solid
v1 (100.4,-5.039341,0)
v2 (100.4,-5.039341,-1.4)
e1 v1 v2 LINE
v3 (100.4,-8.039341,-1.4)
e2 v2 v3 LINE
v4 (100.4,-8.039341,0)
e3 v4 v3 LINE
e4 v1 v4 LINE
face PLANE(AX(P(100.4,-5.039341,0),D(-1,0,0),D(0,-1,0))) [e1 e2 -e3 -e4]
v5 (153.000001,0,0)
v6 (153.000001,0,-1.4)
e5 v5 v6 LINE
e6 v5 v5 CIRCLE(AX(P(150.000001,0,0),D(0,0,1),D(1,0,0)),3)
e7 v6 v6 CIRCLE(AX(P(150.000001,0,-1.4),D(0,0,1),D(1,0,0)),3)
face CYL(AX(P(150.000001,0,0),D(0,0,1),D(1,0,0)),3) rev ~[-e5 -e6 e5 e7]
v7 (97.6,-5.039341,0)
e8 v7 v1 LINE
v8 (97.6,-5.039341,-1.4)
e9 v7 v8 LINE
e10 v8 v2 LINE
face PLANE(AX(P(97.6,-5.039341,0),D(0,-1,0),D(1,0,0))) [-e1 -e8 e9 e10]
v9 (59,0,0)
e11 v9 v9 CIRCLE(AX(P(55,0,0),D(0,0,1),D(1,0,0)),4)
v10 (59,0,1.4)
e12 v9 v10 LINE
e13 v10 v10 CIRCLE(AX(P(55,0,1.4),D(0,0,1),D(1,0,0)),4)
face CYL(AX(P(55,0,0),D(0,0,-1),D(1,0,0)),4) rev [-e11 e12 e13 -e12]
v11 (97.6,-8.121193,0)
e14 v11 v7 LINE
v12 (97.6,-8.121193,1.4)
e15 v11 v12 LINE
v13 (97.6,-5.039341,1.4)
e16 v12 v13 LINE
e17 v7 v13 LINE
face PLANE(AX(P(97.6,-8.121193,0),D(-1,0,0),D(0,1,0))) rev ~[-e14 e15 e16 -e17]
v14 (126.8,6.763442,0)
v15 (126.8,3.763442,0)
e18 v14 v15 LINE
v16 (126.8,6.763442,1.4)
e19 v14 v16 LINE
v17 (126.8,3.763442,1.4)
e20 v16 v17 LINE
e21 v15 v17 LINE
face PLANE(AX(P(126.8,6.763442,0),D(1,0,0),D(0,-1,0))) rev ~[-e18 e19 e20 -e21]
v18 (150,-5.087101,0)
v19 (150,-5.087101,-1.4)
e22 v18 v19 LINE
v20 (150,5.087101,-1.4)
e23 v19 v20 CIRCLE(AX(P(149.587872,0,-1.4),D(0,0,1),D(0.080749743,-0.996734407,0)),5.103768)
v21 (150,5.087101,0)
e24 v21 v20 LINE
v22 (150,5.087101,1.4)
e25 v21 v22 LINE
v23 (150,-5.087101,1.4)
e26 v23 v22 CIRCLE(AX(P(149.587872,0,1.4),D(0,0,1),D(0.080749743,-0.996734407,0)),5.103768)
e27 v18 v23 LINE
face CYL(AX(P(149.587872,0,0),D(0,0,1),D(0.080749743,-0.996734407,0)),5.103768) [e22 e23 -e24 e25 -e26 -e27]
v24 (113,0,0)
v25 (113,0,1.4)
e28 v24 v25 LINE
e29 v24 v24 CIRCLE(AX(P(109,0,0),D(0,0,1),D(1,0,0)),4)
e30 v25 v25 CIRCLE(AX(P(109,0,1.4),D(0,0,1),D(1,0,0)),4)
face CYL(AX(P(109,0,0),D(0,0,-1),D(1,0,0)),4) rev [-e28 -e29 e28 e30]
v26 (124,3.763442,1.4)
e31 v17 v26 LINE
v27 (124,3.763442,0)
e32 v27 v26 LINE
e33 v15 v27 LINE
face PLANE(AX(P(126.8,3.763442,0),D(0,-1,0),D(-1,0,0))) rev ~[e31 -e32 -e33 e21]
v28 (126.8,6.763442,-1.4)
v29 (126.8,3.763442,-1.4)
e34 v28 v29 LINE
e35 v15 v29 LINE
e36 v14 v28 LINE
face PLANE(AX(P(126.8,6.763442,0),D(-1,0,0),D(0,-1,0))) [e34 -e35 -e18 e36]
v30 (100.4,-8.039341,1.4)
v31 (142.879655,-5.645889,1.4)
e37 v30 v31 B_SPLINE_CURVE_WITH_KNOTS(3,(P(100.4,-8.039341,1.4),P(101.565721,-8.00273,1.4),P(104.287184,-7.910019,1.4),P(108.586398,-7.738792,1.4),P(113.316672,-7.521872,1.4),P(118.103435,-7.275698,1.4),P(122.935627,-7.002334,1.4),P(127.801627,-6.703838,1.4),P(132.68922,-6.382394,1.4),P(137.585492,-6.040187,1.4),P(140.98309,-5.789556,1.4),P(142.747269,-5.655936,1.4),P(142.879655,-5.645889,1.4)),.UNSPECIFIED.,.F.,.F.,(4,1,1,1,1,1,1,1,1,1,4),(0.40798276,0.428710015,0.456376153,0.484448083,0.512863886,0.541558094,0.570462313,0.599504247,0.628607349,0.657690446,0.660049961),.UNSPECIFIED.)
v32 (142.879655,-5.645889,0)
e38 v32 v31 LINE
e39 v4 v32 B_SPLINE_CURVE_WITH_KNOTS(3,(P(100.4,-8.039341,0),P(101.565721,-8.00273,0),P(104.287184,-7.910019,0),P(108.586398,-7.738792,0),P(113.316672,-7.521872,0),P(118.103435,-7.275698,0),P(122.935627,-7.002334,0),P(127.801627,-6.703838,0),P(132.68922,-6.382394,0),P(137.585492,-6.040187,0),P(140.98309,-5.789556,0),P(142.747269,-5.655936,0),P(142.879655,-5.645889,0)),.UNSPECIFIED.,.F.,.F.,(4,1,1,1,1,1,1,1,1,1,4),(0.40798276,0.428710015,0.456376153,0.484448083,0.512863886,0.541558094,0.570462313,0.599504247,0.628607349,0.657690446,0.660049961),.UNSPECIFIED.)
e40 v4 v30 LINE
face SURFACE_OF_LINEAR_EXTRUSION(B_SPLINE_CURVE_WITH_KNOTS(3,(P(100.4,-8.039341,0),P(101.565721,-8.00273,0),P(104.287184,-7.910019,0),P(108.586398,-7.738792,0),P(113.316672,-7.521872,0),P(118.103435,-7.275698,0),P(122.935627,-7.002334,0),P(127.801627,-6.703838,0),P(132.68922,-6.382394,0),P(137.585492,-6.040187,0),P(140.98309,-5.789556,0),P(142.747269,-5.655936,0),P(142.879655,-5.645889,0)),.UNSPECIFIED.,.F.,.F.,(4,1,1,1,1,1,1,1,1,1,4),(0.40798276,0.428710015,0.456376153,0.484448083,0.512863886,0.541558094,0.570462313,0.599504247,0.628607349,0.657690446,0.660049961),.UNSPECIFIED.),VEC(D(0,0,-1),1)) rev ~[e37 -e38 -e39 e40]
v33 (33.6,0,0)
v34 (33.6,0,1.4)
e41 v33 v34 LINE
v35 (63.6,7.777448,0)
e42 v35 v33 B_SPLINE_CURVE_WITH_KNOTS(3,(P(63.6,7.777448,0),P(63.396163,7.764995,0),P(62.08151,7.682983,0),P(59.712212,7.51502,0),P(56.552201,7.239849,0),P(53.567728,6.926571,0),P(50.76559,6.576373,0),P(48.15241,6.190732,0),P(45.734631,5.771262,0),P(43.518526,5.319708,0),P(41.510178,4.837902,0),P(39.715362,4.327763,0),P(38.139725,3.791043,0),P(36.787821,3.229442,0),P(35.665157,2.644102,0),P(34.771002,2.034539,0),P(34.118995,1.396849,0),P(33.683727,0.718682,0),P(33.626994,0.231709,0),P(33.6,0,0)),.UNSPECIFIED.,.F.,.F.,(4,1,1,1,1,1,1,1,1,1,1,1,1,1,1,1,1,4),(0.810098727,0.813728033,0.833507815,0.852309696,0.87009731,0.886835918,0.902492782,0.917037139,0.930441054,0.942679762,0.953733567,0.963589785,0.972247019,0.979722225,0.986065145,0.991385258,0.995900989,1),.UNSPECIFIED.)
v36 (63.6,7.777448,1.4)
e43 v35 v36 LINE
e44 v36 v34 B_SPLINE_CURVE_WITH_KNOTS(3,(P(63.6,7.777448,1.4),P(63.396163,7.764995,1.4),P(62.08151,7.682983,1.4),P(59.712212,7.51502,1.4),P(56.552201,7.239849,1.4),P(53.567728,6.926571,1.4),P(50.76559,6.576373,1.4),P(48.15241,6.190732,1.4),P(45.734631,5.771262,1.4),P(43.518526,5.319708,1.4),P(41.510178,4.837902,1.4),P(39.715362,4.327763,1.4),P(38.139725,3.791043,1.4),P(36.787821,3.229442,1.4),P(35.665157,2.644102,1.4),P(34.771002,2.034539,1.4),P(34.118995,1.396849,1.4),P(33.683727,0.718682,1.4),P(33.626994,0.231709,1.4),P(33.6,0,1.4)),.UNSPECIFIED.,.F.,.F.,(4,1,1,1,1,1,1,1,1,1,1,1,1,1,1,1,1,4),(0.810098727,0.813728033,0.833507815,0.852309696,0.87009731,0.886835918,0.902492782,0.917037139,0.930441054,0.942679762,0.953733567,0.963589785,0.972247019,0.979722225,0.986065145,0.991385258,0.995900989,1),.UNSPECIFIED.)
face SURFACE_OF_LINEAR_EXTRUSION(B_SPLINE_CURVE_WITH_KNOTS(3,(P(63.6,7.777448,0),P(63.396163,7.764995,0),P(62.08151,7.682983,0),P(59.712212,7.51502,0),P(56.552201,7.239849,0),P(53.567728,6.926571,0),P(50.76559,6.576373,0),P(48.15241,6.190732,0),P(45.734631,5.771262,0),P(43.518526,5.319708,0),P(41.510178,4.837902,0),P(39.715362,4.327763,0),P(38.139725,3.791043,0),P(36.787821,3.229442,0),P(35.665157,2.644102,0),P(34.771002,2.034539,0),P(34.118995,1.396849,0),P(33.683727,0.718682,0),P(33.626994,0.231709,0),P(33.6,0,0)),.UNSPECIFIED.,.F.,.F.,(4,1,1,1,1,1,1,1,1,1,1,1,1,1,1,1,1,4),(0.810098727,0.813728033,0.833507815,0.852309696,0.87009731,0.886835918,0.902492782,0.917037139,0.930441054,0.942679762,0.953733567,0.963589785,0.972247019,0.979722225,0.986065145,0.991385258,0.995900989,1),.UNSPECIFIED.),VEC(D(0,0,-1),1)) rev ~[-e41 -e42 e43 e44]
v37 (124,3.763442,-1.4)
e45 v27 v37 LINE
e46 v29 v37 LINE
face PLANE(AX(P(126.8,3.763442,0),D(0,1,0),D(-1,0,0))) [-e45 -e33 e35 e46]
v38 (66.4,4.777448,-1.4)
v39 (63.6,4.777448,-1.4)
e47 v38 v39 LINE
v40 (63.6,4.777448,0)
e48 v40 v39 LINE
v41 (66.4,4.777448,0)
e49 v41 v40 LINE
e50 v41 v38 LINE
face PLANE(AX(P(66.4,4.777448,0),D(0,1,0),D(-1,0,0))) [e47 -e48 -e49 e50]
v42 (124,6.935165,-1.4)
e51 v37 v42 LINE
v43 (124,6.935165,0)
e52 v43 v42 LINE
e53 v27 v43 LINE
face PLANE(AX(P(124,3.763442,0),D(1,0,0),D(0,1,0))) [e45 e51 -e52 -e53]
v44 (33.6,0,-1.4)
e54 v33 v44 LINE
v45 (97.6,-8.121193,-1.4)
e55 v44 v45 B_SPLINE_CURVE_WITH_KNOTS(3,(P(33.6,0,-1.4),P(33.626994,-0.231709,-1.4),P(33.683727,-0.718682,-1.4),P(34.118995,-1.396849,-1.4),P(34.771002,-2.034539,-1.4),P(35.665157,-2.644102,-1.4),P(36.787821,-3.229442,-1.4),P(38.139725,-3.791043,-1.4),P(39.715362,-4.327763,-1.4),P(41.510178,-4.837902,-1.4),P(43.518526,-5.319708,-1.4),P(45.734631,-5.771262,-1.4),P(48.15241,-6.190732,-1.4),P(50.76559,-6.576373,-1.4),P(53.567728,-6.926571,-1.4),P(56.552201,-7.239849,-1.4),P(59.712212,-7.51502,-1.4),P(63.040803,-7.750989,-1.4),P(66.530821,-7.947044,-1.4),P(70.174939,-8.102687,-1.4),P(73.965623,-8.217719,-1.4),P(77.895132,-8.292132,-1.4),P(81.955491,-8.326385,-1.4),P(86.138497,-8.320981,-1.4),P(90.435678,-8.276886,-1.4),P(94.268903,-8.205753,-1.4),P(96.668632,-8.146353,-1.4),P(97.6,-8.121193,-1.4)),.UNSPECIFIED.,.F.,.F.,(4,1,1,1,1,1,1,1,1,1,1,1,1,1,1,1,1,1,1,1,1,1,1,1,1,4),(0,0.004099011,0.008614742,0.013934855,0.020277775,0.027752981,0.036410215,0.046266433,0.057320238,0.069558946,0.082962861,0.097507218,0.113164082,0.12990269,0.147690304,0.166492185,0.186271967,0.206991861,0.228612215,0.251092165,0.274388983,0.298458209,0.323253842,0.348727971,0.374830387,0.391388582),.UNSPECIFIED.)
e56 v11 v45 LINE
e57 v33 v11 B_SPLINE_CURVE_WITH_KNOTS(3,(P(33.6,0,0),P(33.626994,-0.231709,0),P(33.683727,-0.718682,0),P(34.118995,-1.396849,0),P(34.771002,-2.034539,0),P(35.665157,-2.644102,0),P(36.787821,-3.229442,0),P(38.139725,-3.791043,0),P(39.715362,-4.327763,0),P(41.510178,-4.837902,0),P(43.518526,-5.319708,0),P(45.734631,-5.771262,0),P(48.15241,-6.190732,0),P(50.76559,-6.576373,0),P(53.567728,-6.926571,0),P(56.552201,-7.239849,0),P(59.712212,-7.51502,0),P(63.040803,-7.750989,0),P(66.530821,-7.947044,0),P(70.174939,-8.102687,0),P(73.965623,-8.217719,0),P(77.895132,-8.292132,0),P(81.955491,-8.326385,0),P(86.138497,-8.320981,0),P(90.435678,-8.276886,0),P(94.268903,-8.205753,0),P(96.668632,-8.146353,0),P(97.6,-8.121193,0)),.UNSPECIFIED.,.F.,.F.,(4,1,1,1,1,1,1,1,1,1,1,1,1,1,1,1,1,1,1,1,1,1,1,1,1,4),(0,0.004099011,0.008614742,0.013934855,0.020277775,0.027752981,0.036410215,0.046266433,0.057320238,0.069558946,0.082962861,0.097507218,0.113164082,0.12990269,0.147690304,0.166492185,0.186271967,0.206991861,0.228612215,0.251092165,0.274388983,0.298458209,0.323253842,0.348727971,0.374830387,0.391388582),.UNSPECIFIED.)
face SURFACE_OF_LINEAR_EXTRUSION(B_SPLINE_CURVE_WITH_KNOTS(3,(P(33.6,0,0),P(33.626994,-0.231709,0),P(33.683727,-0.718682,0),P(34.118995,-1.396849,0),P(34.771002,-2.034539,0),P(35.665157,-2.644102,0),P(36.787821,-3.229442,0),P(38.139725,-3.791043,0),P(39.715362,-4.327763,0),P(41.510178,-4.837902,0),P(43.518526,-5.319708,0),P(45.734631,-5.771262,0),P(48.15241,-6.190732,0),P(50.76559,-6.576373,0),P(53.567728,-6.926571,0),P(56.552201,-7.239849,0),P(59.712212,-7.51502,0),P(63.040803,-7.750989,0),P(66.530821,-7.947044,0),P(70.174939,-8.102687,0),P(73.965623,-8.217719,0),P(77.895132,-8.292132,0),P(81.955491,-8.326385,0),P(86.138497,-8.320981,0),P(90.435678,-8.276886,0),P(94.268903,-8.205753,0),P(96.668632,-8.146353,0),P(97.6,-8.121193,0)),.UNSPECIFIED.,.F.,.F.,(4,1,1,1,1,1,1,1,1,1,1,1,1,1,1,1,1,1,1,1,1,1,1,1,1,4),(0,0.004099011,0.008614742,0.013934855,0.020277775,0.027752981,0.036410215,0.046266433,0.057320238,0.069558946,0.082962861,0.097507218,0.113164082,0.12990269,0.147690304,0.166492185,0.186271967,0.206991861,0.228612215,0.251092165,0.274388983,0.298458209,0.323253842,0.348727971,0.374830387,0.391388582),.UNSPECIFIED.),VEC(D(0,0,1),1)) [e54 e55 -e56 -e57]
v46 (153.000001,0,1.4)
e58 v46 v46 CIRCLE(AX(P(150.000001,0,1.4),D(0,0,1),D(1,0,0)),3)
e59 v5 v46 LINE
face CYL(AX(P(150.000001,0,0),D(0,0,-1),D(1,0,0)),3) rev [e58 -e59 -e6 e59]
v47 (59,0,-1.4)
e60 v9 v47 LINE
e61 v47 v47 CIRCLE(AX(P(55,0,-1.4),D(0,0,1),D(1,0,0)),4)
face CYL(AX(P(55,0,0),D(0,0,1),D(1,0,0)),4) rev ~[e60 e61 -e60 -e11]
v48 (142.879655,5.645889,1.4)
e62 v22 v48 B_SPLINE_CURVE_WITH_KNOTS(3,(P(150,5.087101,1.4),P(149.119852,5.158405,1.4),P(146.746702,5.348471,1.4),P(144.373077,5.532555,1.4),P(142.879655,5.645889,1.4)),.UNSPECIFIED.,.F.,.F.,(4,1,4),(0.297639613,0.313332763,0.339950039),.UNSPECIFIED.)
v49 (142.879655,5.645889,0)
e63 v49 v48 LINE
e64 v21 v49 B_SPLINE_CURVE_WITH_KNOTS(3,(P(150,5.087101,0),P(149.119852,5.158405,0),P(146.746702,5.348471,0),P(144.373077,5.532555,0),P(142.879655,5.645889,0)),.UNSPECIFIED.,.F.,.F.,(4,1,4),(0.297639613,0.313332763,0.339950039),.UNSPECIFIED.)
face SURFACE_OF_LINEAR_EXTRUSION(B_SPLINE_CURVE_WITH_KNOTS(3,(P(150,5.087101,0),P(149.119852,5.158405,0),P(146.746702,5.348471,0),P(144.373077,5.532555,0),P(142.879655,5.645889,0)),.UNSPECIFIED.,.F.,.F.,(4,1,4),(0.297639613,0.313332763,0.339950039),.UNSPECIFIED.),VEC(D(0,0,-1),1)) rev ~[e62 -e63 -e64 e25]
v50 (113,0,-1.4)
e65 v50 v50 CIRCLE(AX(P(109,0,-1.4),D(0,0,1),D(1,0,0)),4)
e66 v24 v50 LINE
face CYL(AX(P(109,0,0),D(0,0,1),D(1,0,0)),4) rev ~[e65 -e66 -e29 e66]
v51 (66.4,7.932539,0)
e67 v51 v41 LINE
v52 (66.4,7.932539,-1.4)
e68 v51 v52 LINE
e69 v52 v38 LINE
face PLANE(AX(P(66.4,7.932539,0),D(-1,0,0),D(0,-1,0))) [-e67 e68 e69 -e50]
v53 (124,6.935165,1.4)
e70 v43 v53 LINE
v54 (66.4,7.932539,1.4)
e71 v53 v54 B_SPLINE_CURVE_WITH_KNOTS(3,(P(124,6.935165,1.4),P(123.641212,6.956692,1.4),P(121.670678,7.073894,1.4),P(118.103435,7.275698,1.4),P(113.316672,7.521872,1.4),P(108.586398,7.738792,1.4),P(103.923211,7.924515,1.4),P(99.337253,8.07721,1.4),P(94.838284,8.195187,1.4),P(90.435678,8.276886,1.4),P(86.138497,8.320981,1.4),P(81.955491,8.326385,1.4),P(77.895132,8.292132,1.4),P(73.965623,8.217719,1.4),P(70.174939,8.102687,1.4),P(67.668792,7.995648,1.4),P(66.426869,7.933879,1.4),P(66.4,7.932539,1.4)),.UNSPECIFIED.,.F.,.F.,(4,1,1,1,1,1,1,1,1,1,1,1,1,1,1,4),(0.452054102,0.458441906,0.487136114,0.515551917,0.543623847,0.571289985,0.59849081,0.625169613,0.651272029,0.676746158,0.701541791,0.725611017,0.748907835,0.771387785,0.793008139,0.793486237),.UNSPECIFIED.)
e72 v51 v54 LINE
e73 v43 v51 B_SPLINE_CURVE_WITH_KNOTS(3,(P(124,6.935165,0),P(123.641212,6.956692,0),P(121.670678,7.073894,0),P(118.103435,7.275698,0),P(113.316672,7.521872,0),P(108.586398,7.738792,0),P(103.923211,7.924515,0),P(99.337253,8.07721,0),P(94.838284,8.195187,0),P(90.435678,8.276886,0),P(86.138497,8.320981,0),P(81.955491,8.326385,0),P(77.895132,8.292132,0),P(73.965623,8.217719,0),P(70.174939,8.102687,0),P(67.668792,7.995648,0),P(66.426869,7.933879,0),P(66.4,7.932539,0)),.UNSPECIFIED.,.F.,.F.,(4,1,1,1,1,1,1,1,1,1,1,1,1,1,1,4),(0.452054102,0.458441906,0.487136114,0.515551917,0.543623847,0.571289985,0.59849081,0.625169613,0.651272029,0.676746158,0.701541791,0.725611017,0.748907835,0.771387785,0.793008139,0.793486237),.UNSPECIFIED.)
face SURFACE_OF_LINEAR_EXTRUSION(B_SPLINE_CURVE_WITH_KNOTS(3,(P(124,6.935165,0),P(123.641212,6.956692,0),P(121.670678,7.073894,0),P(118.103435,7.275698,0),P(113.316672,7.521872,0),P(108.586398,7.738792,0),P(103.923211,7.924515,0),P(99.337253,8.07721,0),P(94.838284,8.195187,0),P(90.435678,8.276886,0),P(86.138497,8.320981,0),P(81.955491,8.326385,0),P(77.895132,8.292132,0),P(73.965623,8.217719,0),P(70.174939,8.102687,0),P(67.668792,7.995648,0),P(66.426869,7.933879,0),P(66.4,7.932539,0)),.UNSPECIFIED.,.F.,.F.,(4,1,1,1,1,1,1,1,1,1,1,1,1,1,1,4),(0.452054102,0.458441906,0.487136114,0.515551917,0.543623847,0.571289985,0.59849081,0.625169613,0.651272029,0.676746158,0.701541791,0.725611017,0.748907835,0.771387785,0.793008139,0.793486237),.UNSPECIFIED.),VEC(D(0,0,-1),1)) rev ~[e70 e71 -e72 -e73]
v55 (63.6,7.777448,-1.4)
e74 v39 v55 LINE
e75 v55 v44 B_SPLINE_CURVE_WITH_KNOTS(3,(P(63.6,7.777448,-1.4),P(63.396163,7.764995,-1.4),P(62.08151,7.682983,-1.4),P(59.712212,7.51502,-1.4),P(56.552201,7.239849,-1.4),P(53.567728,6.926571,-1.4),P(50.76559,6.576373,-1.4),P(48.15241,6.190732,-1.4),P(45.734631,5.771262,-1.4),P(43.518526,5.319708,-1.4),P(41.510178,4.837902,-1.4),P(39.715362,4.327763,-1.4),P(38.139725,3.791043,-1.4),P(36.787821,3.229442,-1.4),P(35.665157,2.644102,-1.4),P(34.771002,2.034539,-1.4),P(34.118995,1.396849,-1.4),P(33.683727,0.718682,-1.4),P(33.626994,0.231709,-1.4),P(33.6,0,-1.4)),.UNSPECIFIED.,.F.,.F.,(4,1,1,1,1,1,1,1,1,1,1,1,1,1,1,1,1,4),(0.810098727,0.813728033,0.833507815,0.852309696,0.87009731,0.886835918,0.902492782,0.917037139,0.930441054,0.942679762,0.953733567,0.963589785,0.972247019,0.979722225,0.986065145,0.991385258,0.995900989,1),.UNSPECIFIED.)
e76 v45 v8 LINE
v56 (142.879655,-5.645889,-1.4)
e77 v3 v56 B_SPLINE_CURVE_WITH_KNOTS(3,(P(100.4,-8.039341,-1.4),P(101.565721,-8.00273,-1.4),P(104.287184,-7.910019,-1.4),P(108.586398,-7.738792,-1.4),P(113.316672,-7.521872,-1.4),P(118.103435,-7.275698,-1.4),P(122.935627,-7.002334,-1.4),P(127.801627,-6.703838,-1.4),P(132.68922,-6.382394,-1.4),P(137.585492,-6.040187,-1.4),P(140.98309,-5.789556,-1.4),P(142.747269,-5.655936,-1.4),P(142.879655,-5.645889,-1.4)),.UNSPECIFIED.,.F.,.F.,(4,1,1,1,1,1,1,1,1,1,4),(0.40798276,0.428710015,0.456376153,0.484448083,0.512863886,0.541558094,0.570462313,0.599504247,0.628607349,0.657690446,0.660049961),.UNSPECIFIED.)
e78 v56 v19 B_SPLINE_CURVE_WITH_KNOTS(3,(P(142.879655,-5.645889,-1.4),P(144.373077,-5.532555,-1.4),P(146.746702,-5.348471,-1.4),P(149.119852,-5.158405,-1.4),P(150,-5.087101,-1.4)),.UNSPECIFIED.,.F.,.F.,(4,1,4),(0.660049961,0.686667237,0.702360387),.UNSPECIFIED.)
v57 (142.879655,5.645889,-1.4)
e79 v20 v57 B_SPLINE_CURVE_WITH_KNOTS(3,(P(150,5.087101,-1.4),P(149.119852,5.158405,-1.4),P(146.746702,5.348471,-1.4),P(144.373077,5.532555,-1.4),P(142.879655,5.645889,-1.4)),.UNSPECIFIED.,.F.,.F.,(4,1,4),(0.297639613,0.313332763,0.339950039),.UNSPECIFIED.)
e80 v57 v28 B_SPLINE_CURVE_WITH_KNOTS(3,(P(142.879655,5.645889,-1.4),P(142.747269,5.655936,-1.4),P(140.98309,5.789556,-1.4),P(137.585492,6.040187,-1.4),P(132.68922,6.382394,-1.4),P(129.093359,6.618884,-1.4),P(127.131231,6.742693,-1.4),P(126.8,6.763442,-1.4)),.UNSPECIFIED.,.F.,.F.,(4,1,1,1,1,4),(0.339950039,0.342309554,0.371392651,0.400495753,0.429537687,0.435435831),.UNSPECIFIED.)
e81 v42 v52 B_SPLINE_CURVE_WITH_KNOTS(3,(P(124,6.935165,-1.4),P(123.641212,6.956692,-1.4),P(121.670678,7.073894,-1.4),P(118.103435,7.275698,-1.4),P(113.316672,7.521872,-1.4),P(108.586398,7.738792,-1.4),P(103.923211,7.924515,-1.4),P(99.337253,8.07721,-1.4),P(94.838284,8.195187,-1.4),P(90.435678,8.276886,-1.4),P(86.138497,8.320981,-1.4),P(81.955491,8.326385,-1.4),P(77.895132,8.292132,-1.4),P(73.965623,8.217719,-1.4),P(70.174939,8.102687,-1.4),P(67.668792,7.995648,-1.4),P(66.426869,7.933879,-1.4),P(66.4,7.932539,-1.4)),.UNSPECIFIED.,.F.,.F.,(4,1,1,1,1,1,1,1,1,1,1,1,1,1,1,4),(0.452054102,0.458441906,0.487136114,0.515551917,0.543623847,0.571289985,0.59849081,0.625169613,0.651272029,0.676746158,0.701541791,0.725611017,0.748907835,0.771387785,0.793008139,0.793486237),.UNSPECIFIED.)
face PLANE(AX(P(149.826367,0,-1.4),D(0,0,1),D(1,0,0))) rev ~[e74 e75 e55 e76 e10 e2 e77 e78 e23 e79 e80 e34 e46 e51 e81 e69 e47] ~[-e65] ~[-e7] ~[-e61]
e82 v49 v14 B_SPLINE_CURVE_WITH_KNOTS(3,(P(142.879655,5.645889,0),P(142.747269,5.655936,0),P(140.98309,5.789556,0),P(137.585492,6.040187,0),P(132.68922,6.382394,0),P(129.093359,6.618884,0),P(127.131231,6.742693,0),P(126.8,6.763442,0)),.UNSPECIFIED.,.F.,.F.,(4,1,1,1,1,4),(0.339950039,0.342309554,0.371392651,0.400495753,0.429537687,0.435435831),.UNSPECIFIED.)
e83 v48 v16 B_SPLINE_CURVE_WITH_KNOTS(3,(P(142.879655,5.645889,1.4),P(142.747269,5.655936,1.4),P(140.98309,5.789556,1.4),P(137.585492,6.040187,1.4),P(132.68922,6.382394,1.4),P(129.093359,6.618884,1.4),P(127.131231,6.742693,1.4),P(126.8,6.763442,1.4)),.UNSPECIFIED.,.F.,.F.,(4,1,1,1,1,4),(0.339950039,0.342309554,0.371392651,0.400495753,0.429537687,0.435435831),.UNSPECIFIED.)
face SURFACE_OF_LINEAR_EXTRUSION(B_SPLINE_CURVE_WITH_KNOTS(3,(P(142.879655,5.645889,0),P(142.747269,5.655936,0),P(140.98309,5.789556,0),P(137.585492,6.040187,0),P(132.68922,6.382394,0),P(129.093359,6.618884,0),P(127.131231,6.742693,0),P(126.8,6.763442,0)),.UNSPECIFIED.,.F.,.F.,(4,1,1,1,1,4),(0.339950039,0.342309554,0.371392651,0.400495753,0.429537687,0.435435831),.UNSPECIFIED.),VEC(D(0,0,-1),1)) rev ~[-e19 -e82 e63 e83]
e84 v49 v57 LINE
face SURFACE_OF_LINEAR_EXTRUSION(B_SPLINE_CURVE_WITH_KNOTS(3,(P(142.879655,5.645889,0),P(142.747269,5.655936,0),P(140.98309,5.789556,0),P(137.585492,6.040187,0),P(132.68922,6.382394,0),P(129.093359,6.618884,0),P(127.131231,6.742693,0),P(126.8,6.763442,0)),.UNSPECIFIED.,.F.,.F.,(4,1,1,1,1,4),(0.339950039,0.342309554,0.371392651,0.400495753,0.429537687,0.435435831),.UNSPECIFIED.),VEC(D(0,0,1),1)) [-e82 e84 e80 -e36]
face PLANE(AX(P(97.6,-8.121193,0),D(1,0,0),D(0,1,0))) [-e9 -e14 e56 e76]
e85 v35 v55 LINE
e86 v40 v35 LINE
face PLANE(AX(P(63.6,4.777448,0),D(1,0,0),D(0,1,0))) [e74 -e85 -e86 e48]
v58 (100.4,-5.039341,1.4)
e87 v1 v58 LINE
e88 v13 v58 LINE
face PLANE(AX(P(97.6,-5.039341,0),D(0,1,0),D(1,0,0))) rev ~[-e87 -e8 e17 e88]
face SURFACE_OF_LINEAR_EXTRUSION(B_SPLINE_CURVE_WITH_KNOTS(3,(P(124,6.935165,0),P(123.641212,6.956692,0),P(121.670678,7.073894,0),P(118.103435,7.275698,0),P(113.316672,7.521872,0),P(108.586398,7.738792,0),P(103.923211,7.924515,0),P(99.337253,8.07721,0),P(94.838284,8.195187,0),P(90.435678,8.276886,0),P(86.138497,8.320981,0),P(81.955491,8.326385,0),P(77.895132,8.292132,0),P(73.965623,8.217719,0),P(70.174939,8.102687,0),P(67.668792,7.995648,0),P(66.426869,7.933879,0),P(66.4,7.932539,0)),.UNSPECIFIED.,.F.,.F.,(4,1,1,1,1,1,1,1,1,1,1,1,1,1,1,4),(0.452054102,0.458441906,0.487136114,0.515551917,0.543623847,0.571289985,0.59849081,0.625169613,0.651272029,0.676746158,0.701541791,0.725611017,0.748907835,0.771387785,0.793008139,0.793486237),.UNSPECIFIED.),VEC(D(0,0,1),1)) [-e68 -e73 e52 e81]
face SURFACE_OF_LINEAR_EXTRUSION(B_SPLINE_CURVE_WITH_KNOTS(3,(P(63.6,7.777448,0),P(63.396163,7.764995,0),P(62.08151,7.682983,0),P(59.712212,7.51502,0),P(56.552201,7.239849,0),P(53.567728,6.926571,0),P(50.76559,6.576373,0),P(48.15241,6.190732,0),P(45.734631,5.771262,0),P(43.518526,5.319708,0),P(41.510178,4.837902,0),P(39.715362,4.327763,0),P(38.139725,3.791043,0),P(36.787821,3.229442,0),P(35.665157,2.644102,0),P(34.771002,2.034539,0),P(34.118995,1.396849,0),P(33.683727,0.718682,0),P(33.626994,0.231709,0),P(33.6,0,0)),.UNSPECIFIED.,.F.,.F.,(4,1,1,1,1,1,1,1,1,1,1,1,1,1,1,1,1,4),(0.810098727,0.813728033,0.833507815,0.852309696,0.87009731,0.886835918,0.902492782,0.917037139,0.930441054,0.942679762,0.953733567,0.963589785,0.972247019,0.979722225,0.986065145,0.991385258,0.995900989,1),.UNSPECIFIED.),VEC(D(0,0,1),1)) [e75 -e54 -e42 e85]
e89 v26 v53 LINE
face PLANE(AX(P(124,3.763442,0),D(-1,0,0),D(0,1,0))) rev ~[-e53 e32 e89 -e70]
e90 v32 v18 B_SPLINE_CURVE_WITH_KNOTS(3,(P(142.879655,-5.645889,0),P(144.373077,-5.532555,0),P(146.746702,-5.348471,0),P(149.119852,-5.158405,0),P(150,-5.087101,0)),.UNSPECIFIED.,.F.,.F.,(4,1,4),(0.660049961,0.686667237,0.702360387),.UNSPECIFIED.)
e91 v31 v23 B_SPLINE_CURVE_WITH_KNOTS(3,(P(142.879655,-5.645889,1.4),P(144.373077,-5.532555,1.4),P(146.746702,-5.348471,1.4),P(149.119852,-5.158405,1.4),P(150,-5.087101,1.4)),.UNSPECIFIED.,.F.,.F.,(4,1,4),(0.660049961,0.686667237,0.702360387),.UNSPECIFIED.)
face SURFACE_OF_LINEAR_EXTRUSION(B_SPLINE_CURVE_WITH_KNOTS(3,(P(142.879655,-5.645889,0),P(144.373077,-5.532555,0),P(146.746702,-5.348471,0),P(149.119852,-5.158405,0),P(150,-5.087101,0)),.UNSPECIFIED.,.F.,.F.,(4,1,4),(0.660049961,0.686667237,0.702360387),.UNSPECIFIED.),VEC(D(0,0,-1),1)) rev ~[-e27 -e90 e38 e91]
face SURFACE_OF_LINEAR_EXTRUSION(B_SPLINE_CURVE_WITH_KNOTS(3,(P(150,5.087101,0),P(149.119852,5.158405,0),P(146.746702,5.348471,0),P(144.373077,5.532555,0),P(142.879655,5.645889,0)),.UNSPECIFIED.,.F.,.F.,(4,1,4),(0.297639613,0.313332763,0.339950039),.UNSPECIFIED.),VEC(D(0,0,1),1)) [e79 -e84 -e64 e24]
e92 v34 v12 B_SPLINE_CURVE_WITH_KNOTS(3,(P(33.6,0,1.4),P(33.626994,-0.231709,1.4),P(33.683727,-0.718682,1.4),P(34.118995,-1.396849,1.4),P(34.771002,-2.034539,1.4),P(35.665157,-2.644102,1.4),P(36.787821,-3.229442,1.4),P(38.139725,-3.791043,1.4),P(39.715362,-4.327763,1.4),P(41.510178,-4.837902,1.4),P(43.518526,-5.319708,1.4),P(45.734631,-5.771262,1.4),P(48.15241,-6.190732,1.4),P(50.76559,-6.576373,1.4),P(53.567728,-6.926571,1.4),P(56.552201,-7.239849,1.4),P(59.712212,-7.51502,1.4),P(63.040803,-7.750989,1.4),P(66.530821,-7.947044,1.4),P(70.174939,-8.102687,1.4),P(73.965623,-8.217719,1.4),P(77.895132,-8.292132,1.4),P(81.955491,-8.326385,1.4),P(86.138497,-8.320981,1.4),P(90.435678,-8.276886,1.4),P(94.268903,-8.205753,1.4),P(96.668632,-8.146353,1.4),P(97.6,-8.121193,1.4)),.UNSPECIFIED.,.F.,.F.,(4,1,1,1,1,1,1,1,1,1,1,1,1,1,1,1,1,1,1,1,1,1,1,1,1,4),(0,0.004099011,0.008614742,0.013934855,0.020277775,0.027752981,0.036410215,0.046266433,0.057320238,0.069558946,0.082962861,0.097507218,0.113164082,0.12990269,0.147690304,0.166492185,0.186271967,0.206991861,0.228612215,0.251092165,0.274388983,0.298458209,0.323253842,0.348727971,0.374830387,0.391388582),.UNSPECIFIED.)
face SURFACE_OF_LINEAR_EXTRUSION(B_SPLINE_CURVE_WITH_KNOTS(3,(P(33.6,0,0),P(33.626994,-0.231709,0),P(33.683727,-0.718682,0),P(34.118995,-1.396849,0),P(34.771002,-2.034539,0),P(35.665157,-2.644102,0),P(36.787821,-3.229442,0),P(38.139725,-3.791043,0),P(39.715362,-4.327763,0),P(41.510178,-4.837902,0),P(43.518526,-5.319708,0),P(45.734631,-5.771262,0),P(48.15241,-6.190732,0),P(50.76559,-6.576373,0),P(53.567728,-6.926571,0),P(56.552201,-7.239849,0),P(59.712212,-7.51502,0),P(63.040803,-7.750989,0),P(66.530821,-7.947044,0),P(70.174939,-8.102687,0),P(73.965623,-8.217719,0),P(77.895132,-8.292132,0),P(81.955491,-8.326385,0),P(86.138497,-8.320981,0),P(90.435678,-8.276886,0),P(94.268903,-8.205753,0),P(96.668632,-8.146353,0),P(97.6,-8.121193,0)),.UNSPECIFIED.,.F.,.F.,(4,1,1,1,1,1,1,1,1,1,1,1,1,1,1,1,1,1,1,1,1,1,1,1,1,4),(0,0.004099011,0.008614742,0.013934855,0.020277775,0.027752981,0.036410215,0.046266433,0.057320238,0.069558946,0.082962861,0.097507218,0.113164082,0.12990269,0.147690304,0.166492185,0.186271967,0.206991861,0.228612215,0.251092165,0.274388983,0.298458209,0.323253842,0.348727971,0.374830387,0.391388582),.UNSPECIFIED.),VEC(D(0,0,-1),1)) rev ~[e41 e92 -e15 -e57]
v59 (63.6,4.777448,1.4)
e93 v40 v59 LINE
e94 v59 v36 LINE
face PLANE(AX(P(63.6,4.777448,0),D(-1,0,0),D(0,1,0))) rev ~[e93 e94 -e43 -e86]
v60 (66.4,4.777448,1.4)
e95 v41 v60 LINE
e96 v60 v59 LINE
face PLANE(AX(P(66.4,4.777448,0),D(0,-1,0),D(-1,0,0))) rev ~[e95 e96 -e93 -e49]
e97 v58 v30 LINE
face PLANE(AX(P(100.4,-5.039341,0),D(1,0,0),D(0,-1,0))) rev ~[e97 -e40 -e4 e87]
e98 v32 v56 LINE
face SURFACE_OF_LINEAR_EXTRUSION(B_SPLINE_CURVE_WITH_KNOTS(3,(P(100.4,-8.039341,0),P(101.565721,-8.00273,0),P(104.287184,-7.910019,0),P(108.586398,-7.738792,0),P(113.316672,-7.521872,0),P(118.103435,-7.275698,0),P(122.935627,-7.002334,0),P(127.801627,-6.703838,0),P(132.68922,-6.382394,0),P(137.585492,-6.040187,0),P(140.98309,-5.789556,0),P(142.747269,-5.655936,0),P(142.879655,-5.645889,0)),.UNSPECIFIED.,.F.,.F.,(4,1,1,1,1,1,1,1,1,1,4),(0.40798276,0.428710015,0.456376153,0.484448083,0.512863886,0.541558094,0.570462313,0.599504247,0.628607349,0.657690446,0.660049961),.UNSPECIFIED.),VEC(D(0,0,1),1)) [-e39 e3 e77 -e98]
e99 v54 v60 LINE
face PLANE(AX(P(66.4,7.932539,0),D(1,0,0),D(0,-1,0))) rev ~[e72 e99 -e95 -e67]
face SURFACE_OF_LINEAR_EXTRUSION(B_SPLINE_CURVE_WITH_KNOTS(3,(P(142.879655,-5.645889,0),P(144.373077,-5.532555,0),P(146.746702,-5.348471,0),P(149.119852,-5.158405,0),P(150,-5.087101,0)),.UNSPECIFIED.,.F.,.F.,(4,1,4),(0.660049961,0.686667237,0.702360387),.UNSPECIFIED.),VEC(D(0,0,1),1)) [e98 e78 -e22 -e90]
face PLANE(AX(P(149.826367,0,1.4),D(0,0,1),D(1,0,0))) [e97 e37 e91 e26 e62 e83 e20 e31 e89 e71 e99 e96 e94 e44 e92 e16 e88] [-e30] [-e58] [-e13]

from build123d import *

# Parameters (mm, degrees)
SKETCH_1_R      = 4
SKETCH_1_R_2    = 3
EXTRUDE_1_DEPTH = 1.4


with BuildPart() as part:
    # Эскиз1 → Бобышка-Вытянуть1 (new, symmetric)
    # profile 1 of 3: a face of its own
    with BuildSketch(Plane.XY):
        with BuildLine():
            ThreePointArc((142.879654521, -5.645889143), (140.91290042, 0), (142.879654521, 5.645889143))
            add(Edge.make_bspline(
                [(142.879654521, 5.645889143), (142.747268556, 5.655935735), (140.983089587, 5.789556497), (137.585492165, 6.040187447), (132.68922042, 6.382393711), (129.093359344, 6.61888416), (127.131231234, 6.742693318), (126.8, 6.763442063)],
                knots=[0.339950039, 0.339950039, 0.339950039, 0.339950039, 0.342309554, 0.371392651, 0.400495753, 0.429537687, 0.435435831, 0.435435831, 0.435435831, 0.435435831], degree=3))
            Line((126.8, 6.763442063), (126.8, 3.763442063))
            Line((126.8, 3.763442063), (124, 3.763442063))
            Line((124, 3.763442063), (124, 6.935165252))
            add(Edge.make_bspline(
                [(124, 6.935165252), (123.641212233, 6.956691636), (121.670677761, 7.073894152), (118.103435227, 7.275698401), (113.316671904, 7.521871639), (108.586398202, 7.738792494), (103.923211277, 7.924514665), (99.337253306, 8.077210344), (94.83828356, 8.195186848), (90.435677893, 8.276886408), (86.138497273, 8.320981466), (81.955490955, 8.326384834), (77.89513162, 8.292131727), (73.965623193, 8.217718888), (70.174939177, 8.10268745), (67.668791632, 7.99564794), (66.426868705, 7.933879191), (66.4, 7.93253874)],
                knots=[0.452054102, 0.452054102, 0.452054102, 0.452054102, 0.458441906, 0.487136114, 0.515551917, 0.543623847, 0.571289985, 0.59849081, 0.625169613, 0.651272029, 0.676746158, 0.701541791, 0.725611017, 0.748907835, 0.771387785, 0.793008139, 0.793486237, 0.793486237, 0.793486237, 0.793486237], degree=3))
            Line((66.4, 7.93253874), (66.4, 4.777447755))
            Line((66.4, 4.777447755), (63.6, 4.777447755))
            Line((63.6, 4.777447755), (63.6, 7.777447755))
            add(Edge.make_bspline(
                [(63.6, 7.777447755), (63.396162512, 7.764994786), (62.081509824, 7.682983398), (59.712211754, 7.515019975), (56.552200858, 7.239849215), (53.56772758, 6.926570619), (50.765590148, 6.57637304), (48.152410031, 6.190731972), (45.734630901, 5.771261543), (43.518525859, 5.319707647), (41.510178464, 4.837901503), (39.715362287, 4.3277629), (38.139724526, 3.791042715), (36.787821083, 3.229441513), (35.665157045, 2.644102252), (34.771002159, 2.034538769), (34.118995376, 1.396849457), (33.68372682, 0.718681816), (33.626994167, 0.231708516), (33.6, 0)],
                knots=[0.810098727, 0.810098727, 0.810098727, 0.810098727, 0.813728033, 0.833507815, 0.852309696, 0.87009731, 0.886835918, 0.902492782, 0.917037139, 0.930441054, 0.942679762, 0.953733567, 0.963589785, 0.972247019, 0.979722225, 0.986065145, 0.991385258, 0.995900989, 1, 1, 1, 1], degree=3))
            add(Edge.make_bspline(
                [(33.6, 0), (33.626994167, -0.231708516), (33.68372682, -0.718681816), (34.118995376, -1.396849457), (34.771002159, -2.034538769), (35.665157045, -2.644102252), (36.787821083, -3.229441513), (38.139724526, -3.791042715), (39.715362287, -4.3277629), (41.510178464, -4.837901503), (43.518525859, -5.319707647), (45.734630901, -5.771261543), (48.152410031, -6.190731972), (50.765590148, -6.57637304), (53.56772758, -6.926570619), (56.552200858, -7.239849215), (59.712211754, -7.515019975), (63.040803104, -7.750989271), (66.530820659, -7.947044314), (70.174939177, -8.10268745), (73.965623193, -8.217718888), (77.89513162, -8.292131727), (81.955490955, -8.326384834), (86.138497273, -8.320981466), (90.435677893, -8.276886408), (94.268903337, -8.20575289), (96.668631576, -8.146352686), (97.6, -8.121192528)],
                knots=[0, 0, 0, 0, 0.004099011, 0.008614742, 0.013934855, 0.020277775, 0.027752981, 0.036410215, 0.046266433, 0.057320238, 0.069558946, 0.082962861, 0.097507218, 0.113164082, 0.12990269, 0.147690304, 0.166492185, 0.186271967, 0.206991861, 0.228612215, 0.251092165, 0.274388983, 0.298458209, 0.323253842, 0.348727971, 0.374830387, 0.391388582, 0.391388582, 0.391388582, 0.391388582], degree=3))
            Line((97.6, -8.121192528), (97.6, -5.039340517))
            Line((97.6, -5.039340517), (100.4, -5.039340517))
            Line((100.4, -5.039340517), (100.4, -8.039340517))
            add(Edge.make_bspline(
                [(100.400000001, -8.039340517), (101.56572059, -8.002730044), (104.287183669, -7.910018625), (108.586398202, -7.738792494), (113.316671904, -7.521871639), (118.103435227, -7.275698401), (122.935626987, -7.002334081), (127.801626972, -6.703838046), (132.68922042, -6.382393711), (137.585492165, -6.040187447), (140.983089587, -5.789556497), (142.747268556, -5.655935735), (142.879654521, -5.645889143)],
                knots=[0.40798276, 0.40798276, 0.40798276, 0.40798276, 0.428710015, 0.456376153, 0.484448083, 0.512863886, 0.541558094, 0.570462313, 0.599504247, 0.628607349, 0.657690446, 0.660049961, 0.660049961, 0.660049961, 0.660049961], degree=3))
        make_face()
        with Locations((55, 0)):
            Circle(SKETCH_1_R, mode=Mode.SUBTRACT)
        with Locations((109, 0)):
            Circle(SKETCH_1_R, mode=Mode.SUBTRACT)
    # profile 2 of 3: a face of its own
    with BuildSketch(Plane.XY):
        with BuildLine():
            ThreePointArc((150, -5.087100899), (144.91290042, 0), (150, 5.087100899))
            add(Edge.make_bspline(
                [(150, 5.087100899), (149.119852039, 5.158405472), (146.746701571, 5.348471448), (144.373077342, 5.532555307), (142.879654521, 5.645889143)],
                knots=[0.297639613, 0.297639613, 0.297639613, 0.297639613, 0.313332763, 0.339950039, 0.339950039, 0.339950039, 0.339950039], degree=3))
            ThreePointArc((142.879654521, 5.645889143), (140.91290042, 0), (142.879654521, -5.645889143))
            add(Edge.make_bspline(
                [(142.879654521, -5.645889143), (144.373077342, -5.532555307), (146.746701571, -5.348471448), (149.119852039, -5.158405472), (150, -5.087100899)],
                knots=[0.660049961, 0.660049961, 0.660049961, 0.660049961, 0.686667237, 0.702360387, 0.702360387, 0.702360387, 0.702360387], degree=3))
        make_face()
    # profile 3 of 3: a face of its own
    with BuildSketch(Plane.XY):
        with BuildLine():
            ThreePointArc((150, 5.087100899), (144.91290042, 0), (150, -5.087100899))
            ThreePointArc((150, -5.087100899), (154.691639791, 0), (150, 5.087100899))
        make_face()
        with Locations((150.000001319, 0)):
            Circle(SKETCH_1_R_2, mode=Mode.SUBTRACT)
    extrude(amount=EXTRUDE_1_DEPTH, both=True)


solid = part.part
